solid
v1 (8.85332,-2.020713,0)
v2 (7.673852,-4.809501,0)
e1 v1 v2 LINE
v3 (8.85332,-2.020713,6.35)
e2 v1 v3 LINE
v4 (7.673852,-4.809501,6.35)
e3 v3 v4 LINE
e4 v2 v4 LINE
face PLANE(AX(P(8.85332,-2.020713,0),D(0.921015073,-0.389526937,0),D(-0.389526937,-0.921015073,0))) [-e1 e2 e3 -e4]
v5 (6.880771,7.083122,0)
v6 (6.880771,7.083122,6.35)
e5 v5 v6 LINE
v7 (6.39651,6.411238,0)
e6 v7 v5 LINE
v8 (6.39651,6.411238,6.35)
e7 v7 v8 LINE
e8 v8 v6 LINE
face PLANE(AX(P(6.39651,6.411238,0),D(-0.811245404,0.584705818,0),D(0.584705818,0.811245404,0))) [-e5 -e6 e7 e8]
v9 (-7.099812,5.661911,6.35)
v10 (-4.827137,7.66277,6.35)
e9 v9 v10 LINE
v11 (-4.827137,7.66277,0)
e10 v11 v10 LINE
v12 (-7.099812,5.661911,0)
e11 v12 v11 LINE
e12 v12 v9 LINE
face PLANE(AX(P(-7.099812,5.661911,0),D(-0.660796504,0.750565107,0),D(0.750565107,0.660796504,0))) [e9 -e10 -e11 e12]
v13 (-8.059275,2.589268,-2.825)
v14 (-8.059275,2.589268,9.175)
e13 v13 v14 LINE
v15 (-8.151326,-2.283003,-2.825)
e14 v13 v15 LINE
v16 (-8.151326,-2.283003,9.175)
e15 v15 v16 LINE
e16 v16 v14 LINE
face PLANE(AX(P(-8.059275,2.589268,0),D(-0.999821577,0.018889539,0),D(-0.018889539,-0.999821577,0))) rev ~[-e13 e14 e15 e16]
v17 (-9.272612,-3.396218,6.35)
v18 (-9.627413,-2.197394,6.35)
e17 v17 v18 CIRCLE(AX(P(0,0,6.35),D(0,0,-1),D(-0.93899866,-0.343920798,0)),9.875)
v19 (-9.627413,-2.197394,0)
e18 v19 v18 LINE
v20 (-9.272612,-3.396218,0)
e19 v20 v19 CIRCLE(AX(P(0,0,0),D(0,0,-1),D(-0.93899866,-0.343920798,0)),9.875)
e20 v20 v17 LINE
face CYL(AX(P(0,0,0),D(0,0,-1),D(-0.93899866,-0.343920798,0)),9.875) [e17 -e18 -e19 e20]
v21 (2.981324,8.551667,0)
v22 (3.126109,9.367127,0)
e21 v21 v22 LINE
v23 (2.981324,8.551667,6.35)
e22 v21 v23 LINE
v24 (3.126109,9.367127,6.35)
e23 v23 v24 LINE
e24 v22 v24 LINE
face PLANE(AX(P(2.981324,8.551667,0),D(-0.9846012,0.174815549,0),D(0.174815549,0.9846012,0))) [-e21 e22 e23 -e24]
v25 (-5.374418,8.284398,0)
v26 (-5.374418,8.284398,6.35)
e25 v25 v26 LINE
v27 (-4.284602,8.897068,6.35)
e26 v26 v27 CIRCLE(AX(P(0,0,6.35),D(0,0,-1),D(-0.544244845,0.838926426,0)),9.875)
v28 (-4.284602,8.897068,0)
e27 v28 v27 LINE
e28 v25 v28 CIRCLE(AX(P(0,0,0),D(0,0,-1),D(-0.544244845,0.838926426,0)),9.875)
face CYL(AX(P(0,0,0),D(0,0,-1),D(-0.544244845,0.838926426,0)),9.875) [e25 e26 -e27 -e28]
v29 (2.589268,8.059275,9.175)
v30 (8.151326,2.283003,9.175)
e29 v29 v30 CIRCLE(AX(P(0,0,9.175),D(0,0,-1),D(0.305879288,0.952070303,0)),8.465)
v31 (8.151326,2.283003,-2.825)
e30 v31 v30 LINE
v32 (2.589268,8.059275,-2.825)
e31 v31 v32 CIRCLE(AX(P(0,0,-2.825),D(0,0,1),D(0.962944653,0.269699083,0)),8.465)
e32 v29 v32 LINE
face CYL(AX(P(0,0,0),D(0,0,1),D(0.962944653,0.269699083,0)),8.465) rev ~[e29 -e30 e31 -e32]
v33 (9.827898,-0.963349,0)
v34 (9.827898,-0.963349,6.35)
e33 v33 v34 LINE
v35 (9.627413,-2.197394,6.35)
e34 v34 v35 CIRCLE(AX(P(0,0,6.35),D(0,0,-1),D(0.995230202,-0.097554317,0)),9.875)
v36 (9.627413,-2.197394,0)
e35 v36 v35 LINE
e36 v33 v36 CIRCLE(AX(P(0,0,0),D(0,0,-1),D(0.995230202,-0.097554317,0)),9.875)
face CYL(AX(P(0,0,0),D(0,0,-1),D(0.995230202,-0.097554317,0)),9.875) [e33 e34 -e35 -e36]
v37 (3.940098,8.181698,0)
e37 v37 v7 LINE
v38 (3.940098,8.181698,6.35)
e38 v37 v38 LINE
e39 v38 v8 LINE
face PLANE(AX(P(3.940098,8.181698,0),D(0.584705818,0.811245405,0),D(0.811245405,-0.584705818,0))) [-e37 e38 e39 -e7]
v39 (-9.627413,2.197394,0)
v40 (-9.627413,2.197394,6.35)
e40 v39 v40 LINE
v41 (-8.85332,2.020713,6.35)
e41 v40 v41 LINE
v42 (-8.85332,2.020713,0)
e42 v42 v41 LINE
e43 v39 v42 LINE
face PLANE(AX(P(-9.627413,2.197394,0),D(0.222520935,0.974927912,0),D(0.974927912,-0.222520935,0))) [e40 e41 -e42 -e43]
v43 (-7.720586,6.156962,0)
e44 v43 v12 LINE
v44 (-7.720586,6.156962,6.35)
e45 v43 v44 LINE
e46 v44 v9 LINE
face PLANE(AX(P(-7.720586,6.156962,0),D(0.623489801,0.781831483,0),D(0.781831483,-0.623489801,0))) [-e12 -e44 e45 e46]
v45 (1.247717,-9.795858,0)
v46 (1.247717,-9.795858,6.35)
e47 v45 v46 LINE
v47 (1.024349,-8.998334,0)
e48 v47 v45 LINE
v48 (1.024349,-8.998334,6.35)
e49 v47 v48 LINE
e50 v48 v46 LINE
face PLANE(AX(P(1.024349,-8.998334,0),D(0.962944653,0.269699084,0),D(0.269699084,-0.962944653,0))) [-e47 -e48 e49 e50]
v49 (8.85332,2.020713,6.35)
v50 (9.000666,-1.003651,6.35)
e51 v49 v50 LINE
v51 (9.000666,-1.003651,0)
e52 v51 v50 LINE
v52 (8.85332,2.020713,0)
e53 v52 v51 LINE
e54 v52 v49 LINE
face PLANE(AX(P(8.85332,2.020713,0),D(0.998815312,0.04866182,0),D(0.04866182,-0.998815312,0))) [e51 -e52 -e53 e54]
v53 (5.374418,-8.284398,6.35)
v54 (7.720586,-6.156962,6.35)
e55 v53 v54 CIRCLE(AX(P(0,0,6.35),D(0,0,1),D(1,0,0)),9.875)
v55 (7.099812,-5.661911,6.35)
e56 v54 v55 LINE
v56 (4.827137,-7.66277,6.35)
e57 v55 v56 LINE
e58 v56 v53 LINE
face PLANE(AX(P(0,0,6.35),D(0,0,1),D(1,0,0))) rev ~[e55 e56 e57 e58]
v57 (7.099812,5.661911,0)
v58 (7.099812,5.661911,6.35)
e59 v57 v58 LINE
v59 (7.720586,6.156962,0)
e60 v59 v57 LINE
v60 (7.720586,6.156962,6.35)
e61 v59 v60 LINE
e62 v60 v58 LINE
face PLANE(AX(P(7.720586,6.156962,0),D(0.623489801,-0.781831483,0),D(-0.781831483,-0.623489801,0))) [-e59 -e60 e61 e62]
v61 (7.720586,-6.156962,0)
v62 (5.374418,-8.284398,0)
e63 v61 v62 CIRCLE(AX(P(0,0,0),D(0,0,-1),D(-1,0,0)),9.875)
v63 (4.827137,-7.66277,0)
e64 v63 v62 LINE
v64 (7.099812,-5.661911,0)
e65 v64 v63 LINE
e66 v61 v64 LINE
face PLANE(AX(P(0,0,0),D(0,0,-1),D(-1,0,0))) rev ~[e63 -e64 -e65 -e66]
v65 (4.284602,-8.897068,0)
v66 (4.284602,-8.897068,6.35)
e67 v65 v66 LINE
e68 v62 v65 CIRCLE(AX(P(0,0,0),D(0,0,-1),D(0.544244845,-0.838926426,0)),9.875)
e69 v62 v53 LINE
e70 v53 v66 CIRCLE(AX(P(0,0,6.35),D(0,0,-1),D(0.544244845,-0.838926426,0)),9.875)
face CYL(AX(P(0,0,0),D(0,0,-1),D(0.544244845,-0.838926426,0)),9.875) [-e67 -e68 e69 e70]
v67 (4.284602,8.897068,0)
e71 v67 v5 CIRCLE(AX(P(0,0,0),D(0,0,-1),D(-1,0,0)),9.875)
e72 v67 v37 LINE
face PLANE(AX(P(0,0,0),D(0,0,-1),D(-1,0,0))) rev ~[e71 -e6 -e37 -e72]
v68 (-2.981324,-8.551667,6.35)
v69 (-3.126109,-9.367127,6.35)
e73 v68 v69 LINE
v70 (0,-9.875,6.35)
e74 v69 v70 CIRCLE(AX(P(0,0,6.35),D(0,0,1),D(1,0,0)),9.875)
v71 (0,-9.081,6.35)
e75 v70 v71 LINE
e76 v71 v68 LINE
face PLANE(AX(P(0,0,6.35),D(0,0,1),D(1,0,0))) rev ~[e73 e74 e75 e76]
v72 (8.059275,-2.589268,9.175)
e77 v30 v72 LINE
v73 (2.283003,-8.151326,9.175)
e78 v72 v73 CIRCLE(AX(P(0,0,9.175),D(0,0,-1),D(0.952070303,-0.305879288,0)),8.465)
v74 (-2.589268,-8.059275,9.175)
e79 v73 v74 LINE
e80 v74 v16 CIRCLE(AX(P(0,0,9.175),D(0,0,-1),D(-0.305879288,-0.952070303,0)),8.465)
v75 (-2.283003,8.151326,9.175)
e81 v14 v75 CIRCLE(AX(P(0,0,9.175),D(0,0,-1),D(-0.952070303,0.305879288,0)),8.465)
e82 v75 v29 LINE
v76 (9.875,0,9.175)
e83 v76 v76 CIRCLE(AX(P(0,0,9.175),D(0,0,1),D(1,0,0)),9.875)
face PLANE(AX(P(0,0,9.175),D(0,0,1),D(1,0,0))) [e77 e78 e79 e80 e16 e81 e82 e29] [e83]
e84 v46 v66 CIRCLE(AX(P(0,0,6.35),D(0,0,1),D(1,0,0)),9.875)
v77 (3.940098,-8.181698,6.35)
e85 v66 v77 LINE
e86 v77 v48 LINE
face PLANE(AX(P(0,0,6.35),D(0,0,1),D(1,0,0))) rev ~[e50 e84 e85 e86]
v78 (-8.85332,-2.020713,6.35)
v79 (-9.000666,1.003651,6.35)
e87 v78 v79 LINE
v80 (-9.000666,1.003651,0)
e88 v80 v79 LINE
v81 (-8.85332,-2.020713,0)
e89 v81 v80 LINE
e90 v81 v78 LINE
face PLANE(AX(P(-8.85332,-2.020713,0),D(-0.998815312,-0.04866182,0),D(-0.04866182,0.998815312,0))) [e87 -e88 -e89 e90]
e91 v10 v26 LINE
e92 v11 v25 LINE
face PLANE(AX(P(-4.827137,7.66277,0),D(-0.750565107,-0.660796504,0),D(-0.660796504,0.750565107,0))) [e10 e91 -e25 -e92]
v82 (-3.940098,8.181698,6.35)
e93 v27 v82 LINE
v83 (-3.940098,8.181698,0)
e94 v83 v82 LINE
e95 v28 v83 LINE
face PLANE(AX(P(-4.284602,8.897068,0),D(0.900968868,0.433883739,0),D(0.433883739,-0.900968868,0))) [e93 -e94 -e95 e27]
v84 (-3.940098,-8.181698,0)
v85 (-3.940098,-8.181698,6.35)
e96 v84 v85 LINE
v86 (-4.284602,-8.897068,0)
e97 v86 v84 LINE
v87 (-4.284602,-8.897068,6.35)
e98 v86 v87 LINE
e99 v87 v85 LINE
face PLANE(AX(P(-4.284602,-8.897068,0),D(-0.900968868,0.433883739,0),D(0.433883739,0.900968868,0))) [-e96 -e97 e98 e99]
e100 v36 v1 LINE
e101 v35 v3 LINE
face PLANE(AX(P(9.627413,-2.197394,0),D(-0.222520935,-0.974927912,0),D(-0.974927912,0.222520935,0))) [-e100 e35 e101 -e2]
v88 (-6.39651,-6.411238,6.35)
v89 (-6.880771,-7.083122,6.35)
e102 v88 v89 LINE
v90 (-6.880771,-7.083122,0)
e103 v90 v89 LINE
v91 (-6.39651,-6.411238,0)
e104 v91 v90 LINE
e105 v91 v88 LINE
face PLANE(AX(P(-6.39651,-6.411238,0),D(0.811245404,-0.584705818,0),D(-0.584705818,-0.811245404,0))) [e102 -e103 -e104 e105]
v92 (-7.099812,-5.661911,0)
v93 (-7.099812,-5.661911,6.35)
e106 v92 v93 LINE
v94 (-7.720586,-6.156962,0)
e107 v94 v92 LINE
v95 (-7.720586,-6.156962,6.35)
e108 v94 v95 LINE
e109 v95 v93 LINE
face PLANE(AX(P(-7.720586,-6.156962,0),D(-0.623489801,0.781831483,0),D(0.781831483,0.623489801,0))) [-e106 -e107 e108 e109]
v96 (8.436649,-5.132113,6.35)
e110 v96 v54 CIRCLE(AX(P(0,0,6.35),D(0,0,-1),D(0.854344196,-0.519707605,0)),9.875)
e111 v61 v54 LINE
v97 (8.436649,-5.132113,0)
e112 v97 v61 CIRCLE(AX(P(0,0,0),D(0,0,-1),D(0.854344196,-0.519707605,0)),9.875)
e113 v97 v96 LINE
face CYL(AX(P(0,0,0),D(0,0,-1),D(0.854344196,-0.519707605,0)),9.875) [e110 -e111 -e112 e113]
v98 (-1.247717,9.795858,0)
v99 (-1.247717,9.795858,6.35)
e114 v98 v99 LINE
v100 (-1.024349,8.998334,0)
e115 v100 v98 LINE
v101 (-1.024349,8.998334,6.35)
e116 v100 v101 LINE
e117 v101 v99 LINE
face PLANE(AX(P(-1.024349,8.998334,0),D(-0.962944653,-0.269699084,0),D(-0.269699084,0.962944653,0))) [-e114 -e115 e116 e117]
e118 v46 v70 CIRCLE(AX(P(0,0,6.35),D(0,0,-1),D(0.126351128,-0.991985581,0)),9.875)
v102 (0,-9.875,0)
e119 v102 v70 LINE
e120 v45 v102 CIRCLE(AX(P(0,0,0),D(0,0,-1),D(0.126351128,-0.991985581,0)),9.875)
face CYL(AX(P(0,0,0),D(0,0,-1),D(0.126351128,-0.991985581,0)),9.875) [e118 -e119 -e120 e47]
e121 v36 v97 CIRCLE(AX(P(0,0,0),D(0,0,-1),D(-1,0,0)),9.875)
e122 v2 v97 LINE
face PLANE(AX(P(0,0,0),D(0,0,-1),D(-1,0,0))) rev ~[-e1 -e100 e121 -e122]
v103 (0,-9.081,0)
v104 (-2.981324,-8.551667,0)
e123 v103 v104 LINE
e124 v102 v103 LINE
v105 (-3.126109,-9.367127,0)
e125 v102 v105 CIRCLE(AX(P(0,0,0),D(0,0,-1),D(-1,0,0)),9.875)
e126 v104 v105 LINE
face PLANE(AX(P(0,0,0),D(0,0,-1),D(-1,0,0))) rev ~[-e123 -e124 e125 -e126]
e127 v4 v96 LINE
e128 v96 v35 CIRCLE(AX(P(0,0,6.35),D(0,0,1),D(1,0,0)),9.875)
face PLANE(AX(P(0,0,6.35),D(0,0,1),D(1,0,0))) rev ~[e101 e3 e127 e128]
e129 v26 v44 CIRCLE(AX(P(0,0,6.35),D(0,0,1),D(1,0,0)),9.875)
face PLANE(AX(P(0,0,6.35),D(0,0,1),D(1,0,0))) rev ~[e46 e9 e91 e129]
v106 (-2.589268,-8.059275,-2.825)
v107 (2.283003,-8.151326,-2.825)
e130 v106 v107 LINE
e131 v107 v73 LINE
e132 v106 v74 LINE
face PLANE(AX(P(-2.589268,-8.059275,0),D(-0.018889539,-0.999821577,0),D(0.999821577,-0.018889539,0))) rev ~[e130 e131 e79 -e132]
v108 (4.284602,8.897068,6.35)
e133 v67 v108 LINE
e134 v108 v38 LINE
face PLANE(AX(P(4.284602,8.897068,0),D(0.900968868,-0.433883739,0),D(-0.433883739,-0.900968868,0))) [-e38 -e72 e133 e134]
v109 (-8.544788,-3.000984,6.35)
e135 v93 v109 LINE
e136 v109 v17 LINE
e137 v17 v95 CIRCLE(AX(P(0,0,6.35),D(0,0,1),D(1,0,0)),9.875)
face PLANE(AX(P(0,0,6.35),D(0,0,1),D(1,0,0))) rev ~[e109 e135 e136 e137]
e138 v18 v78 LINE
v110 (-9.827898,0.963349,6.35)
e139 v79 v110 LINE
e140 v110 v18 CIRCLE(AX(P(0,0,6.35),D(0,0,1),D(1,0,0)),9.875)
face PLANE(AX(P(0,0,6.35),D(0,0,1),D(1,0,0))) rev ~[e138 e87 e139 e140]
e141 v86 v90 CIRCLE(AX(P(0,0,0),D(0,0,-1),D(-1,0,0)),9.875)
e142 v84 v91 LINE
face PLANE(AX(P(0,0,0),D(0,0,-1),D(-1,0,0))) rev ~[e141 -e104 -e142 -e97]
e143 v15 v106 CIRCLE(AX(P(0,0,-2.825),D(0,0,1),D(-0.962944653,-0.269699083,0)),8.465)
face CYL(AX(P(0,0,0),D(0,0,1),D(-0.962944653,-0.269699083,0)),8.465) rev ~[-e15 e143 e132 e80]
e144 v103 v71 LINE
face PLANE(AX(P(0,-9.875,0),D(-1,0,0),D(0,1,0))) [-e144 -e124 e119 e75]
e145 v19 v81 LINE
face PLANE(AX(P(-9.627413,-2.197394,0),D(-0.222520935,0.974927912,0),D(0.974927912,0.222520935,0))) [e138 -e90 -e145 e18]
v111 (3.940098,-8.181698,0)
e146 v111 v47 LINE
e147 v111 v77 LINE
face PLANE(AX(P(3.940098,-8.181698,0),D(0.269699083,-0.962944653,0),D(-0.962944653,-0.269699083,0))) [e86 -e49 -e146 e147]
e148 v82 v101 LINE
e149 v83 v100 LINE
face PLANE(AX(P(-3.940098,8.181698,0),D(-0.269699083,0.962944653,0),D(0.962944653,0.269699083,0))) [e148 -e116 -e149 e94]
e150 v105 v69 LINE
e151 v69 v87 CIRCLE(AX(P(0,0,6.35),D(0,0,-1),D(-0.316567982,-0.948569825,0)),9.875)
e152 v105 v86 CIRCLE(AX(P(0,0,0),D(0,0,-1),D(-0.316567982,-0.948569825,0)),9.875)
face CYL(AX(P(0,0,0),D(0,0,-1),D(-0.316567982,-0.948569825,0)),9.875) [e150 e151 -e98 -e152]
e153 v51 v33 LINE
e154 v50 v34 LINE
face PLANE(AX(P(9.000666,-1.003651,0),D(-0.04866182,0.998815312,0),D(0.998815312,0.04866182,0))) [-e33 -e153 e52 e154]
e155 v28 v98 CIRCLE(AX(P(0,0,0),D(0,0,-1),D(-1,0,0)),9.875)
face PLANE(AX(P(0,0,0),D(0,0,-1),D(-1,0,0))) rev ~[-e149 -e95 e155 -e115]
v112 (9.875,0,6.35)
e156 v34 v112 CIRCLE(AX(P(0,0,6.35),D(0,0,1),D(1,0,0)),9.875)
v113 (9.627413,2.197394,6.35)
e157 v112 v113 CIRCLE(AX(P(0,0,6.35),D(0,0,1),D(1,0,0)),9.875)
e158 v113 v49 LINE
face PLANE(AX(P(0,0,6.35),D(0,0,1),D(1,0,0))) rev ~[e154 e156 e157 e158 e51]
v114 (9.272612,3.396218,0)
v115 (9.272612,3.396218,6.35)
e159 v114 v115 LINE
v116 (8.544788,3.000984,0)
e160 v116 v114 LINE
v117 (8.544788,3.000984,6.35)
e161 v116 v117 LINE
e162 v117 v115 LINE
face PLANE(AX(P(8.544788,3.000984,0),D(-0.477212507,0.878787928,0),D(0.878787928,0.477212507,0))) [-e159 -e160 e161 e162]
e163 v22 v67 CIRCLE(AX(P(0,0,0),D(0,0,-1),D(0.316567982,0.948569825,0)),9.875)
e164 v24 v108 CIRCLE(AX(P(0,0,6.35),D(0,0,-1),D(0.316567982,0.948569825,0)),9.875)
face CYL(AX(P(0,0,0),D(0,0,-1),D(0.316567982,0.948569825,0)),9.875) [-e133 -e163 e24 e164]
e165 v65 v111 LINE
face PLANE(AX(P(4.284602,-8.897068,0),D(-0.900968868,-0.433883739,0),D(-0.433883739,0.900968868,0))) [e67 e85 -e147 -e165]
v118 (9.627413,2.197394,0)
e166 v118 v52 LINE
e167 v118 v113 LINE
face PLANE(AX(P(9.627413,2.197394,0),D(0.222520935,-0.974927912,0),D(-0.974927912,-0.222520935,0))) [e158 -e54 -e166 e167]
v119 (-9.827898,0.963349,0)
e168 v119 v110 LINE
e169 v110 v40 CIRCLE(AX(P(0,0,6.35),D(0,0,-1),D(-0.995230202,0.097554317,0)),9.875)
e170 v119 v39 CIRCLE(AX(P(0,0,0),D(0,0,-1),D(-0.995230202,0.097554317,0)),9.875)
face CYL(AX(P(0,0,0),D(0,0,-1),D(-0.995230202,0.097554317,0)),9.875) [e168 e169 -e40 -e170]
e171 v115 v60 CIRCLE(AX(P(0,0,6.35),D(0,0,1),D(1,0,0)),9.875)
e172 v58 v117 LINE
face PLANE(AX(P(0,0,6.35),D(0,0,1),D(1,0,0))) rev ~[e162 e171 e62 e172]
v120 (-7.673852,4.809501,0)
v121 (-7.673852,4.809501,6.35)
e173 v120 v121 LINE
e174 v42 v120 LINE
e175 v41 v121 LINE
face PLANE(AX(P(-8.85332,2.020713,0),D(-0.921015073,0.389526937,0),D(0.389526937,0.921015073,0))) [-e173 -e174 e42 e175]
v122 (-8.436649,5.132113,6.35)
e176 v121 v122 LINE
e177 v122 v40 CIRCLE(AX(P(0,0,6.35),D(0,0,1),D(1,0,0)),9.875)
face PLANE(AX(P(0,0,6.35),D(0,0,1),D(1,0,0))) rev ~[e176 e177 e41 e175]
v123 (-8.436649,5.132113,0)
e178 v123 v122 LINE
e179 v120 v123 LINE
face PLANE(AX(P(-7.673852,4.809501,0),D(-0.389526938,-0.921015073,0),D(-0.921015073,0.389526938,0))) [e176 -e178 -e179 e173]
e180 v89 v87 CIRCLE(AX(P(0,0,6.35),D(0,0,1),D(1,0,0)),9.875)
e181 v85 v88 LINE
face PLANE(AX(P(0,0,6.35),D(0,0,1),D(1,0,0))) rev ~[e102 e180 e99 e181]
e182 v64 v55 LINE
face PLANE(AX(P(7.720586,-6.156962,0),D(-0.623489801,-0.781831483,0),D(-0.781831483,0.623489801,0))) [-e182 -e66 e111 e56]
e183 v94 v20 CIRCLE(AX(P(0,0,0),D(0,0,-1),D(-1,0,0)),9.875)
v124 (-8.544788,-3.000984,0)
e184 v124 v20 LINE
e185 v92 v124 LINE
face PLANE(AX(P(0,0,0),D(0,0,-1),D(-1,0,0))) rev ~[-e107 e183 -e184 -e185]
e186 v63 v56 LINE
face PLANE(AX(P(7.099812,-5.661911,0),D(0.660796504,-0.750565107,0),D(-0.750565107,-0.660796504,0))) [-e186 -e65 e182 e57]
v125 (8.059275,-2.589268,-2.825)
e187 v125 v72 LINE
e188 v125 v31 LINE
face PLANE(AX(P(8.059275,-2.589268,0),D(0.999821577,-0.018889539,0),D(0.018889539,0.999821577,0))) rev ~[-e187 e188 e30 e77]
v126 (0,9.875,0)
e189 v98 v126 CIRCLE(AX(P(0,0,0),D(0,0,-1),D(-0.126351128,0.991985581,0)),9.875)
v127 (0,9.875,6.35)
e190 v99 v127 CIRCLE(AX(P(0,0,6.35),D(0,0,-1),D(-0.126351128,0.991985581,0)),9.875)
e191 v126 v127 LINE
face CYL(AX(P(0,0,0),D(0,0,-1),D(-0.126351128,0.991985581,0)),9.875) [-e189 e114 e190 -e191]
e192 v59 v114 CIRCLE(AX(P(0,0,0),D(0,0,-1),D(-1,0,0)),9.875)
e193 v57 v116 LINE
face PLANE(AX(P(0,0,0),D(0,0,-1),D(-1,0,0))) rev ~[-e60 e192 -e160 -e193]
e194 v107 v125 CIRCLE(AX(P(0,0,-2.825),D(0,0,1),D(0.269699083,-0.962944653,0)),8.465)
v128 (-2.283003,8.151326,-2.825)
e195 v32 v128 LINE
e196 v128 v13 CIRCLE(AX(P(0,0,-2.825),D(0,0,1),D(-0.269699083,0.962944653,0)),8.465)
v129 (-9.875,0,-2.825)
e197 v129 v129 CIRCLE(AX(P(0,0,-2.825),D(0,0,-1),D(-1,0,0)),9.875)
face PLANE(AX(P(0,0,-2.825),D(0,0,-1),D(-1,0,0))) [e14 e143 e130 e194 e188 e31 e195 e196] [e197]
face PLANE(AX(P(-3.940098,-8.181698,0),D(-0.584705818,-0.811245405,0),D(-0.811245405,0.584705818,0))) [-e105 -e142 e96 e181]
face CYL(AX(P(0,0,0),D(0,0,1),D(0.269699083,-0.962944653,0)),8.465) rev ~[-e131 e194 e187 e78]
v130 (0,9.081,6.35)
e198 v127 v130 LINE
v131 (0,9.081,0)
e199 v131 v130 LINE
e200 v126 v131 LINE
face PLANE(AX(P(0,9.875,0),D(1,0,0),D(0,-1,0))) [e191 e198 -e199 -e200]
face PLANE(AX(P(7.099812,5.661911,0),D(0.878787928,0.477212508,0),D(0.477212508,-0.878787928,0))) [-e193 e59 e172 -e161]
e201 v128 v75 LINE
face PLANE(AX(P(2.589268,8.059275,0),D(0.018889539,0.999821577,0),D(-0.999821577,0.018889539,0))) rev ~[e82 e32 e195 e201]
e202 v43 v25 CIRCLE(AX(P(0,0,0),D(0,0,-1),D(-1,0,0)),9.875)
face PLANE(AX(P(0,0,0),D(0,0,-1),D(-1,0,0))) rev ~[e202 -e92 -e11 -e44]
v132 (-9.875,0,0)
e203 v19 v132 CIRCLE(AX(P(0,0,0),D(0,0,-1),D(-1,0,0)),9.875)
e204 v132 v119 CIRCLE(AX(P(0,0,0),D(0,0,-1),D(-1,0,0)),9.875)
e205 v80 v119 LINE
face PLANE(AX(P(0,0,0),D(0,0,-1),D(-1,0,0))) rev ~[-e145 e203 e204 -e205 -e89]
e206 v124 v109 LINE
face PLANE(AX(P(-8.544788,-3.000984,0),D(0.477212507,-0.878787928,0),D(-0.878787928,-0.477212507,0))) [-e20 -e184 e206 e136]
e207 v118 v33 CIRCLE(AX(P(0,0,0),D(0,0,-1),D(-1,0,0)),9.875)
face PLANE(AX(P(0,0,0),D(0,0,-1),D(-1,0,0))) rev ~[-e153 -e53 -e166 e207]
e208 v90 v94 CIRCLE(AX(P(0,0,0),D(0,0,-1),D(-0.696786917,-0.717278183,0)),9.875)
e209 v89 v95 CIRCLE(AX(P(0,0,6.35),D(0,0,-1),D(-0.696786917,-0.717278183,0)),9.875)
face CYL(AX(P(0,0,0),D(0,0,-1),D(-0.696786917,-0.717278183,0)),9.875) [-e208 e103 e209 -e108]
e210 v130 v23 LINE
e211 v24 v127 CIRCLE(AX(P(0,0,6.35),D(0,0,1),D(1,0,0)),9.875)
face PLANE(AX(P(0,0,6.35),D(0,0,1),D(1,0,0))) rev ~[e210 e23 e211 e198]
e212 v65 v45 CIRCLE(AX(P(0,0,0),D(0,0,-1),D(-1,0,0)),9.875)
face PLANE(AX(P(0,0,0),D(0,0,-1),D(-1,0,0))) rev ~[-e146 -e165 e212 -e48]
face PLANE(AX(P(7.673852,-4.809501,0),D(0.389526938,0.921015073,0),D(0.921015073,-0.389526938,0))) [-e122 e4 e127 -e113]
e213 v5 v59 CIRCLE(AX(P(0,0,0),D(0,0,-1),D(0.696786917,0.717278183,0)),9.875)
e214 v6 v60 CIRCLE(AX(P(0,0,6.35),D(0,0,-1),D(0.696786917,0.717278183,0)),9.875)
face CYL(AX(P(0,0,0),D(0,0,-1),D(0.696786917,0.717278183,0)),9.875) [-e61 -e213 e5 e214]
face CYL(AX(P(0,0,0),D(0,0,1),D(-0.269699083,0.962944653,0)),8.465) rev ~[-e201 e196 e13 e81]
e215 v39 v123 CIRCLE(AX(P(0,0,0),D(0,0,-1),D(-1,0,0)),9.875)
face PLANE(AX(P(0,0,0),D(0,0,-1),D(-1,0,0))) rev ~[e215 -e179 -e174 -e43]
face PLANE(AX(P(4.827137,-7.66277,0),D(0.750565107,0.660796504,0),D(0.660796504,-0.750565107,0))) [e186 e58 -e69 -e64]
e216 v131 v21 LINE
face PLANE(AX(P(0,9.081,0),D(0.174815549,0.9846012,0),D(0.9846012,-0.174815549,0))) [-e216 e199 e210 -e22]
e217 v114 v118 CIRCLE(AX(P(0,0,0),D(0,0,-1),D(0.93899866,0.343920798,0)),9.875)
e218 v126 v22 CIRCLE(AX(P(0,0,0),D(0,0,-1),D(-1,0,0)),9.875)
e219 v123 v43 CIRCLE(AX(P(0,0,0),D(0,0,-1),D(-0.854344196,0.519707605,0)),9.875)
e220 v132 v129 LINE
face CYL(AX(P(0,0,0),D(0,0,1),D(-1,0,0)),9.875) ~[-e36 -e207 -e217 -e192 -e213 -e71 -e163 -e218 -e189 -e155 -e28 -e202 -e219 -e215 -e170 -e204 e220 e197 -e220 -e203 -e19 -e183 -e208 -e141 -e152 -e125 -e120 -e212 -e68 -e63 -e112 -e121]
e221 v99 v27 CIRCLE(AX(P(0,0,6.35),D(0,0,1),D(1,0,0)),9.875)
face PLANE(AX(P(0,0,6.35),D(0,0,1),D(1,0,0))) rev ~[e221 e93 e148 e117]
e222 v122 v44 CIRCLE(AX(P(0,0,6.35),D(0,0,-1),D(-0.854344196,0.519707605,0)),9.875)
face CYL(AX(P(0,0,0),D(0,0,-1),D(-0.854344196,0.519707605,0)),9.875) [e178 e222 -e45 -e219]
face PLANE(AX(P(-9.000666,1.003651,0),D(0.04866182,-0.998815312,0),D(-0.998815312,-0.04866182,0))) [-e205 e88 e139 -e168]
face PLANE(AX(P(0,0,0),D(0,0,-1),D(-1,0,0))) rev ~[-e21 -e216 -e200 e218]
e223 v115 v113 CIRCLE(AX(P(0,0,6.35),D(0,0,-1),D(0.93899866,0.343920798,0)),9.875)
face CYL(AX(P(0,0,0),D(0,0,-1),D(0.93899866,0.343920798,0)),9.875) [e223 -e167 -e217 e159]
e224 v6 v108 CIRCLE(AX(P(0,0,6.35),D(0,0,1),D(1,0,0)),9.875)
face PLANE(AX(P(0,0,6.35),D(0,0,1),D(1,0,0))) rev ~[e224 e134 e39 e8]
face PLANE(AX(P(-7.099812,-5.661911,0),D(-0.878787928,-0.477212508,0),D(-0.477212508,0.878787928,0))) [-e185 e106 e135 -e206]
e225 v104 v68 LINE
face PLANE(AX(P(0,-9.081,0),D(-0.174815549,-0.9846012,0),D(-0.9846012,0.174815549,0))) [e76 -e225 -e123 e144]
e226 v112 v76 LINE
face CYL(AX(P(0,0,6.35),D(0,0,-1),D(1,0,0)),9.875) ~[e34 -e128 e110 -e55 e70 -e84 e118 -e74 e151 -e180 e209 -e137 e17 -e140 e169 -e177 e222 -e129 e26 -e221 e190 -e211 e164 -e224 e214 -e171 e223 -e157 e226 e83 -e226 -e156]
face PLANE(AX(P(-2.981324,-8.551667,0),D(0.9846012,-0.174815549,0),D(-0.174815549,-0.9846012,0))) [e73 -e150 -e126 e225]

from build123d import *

# Parameters (mm, degrees)
BOSS_EXTRUDE1_DEPTH = 6.35
SKETCH3_R           = 9.875
BOSS_EXTRUDE3_DEPTH = 2.825
SKETCH7_R           = 9.875
BOSS_EXTRUDE5_DEPTH = 2.825


with BuildPart() as part:
    # Sketch1 → Boss-Extrude1 (new body)
    with BuildSketch(Plane.XY):
        with BuildLine():
            Line((0, 9.081), (2.981324224, 8.551667078))
            Line((2.981324224, 8.551667078), (3.126108811, 9.367127025))
            ThreePointArc((3.126108811, 9.367127025), (3.712801822, 9.150449586), (4.284601924, 8.897067571))
            Line((4.284601924, 8.897067571), (3.940098235, 8.181698289))
            Line((3.940098235, 8.181698289), (6.396509598, 6.411237704))
            Line((6.396509598, 6.411237704), (6.880770815, 7.083122051))
            ThreePointArc((6.880770815, 7.083122051), (7.315350136, 6.633345867), (7.720585889, 6.156961793))
            Line((7.720585889, 6.156961793), (7.099811692, 5.661910891))
            Line((7.099811692, 5.661910891), (8.544787799, 3.000984074))
            Line((8.544787799, 3.000984074), (9.272611772, 3.396217886))
            ThreePointArc((9.272611772, 3.396217886), (9.469003638, 2.802426646), (9.627413133, 2.197394223))
            Line((9.627413133, 2.197394223), (8.853320371, 2.020712601))
            Line((8.853320371, 2.020712601), (9.00066598, -1.003651256))
            Line((9.00066598, -1.003651256), (9.827898246, -0.963348883))
            ThreePointArc((9.827898246, -0.963348883), (9.74720484, -1.583547541), (9.627413133, -2.197394223))
            Line((9.627413133, -2.197394223), (8.853320371, -2.020712601))
            Line((8.853320371, -2.020712601), (7.673851879, -4.809501146))
            Line((7.673851879, -4.809501146), (8.436648941, -5.132112591))
            ThreePointArc((8.436648941, -5.132112591), (8.094852581, -5.655880717), (7.720585889, -6.156961793))
            Line((7.720585889, -6.156961793), (7.099811692, -5.661910891))
            Line((7.099811692, -5.661910891), (4.827137299, -7.66277035))
            Line((4.827137299, -7.66277035), (5.374417845, -8.284398459))
            ThreePointArc((5.374417845, -8.284398459), (4.839215493, -8.607997352), (4.284601924, -8.897067571))
            Line((4.284601924, -8.897067571), (3.940098235, -8.181698289))
            Line((3.940098235, -8.181698289), (1.024348976, -8.998333907))
            Line((1.024348976, -8.998333907), (1.247717382, -9.795857611))
            ThreePointArc((1.247717382, -9.795857611), (0.625112426, -9.855194542), (0, -9.875))
            Line((0, -9.875), (0, -9.081))
            Line((0, -9.081), (-2.981324224, -8.551667078))
            Line((-2.981324224, -8.551667078), (-3.126108811, -9.367127025))
            ThreePointArc((-3.126108811, -9.367127025), (-3.712801822, -9.150449586), (-4.284601924, -8.897067571))
            Line((-4.284601924, -8.897067571), (-3.940098235, -8.181698289))
            Line((-3.940098235, -8.181698289), (-6.396509598, -6.411237704))
            Line((-6.396509598, -6.411237704), (-6.880770815, -7.083122051))
            ThreePointArc((-6.880770815, -7.083122051), (-7.315350136, -6.633345867), (-7.720585889, -6.156961793))
            Line((-7.720585889, -6.156961793), (-7.099811692, -5.661910891))
            Line((-7.099811692, -5.661910891), (-8.544787799, -3.000984074))
            Line((-8.544787799, -3.000984074), (-9.272611772, -3.396217886))
            ThreePointArc((-9.272611772, -3.396217886), (-9.469003638, -2.802426646), (-9.627413133, -2.197394223))
            Line((-9.627413133, -2.197394223), (-8.853320371, -2.020712601))
            Line((-8.853320371, -2.020712601), (-9.00066598, 1.003651256))
            Line((-9.00066598, 1.003651256), (-9.827898246, 0.963348883))
            ThreePointArc((-9.827898246, 0.963348883), (-9.74720484, 1.583547541), (-9.627413133, 2.197394223))
            Line((-9.627413133, 2.197394223), (-8.853320371, 2.020712601))
            Line((-8.853320371, 2.020712601), (-7.673851879, 4.809501146))
            Line((-7.673851879, 4.809501146), (-8.436648941, 5.132112591))
            ThreePointArc((-8.436648941, 5.132112591), (-8.094852581, 5.655880717), (-7.720585889, 6.156961793))
            Line((-7.720585889, 6.156961793), (-7.099811692, 5.661910891))
            Line((-7.099811692, 5.661910891), (-4.827137299, 7.66277035))
            Line((-4.827137299, 7.66277035), (-5.374417845, 8.284398459))
            ThreePointArc((-5.374417845, 8.284398459), (-4.839215493, 8.607997352), (-4.284601924, 8.897067571))
            Line((-4.284601924, 8.897067571), (-3.940098235, 8.181698289))
            Line((-3.940098235, 8.181698289), (-1.024348976, 8.998333907))
            Line((-1.024348976, 8.998333907), (-1.247717382, 9.795857611))
            ThreePointArc((-1.247717382, 9.795857611), (-0.625112426, 9.855194542), (0, 9.875))
            Line((0, 9.875), (0, 9.081))
        make_face()
        with BuildLine():
            Line((2.58926817, 8.059275113), (-2.283002739, 8.151326487))
            ThreePointArc((-2.283002739, 8.151326487), (-5.871524586, 6.097657258), (-8.059275113, 2.58926817))
            Line((-8.059275113, 2.58926817), (-8.151326487, -2.283002739))
            ThreePointArc((-8.151326487, -2.283002739), (-6.097657258, -5.871524586), (-2.58926817, -8.059275113))
            Line((-2.58926817, -8.059275113), (2.283002739, -8.151326487))
            ThreePointArc((2.283002739, -8.151326487), (5.871524586, -6.097657258), (8.059275113, -2.58926817))
            Line((8.059275113, -2.58926817), (8.151326487, 2.283002739))
            ThreePointArc((8.151326487, 2.283002739), (6.097657258, 5.871524586), (2.58926817, 8.059275113))
        make_face(mode=Mode.SUBTRACT)
    extrude(amount=BOSS_EXTRUDE1_DEPTH)

    # Sketch3 → Boss-Extrude3 (add)
    with BuildSketch(Plane.XY.offset(6.35)):
        Circle(SKETCH3_R)
        with BuildLine():
            Line((-2.283002739, 8.151326487), (2.58926817, 8.059275113))
            ThreePointArc((2.58926817, 8.059275113), (6.097657258, 5.871524586), (8.151326487, 2.283002739))
            Line((8.151326487, 2.283002739), (8.059275113, -2.58926817))
            ThreePointArc((8.059275113, -2.58926817), (5.871524586, -6.097657258), (2.283002739, -8.151326487))
            Line((2.283002739, -8.151326487), (-2.58926817, -8.059275113))
            ThreePointArc((-2.58926817, -8.059275113), (-6.097657258, -5.871524586), (-8.151326487, -2.283002739))
            Line((-8.151326487, -2.283002739), (-8.059275113, 2.58926817))
            ThreePointArc((-8.059275113, 2.58926817), (-5.871524586, 6.097657258), (-2.283002739, 8.151326487))
        make_face(mode=Mode.SUBTRACT)
    extrude(amount=BOSS_EXTRUDE3_DEPTH)

    # Sketch7 → Boss-Extrude5 (add)
    with BuildSketch(Plane(origin=(0, 0, 0), x_dir=(-1, 0, 0), z_dir=(0, 0, -1))):
        Circle(SKETCH7_R)
        with BuildLine():
            Line((-2.58926817, 8.059275113), (2.283002739, 8.151326487))
            ThreePointArc((2.283002739, 8.151326487), (5.871524586, 6.097657258), (8.059275113, 2.58926817))
            Line((8.059275113, 2.58926817), (8.151326487, -2.283002739))
            ThreePointArc((8.151326487, -2.283002739), (6.097657258, -5.871524586), (2.58926817, -8.059275113))
            Line((2.58926817, -8.059275113), (-2.283002739, -8.151326487))
            ThreePointArc((-2.283002739, -8.151326487), (-5.871524586, -6.097657258), (-8.059275113, -2.58926817))
            Line((-8.059275113, -2.58926817), (-8.151326487, 2.283002739))
            ThreePointArc((-8.151326487, 2.283002739), (-6.097657258, 5.871524586), (-2.58926817, 8.059275113))
        make_face(mode=Mode.SUBTRACT)
    extrude(amount=BOSS_EXTRUDE5_DEPTH)


solid = part.part
